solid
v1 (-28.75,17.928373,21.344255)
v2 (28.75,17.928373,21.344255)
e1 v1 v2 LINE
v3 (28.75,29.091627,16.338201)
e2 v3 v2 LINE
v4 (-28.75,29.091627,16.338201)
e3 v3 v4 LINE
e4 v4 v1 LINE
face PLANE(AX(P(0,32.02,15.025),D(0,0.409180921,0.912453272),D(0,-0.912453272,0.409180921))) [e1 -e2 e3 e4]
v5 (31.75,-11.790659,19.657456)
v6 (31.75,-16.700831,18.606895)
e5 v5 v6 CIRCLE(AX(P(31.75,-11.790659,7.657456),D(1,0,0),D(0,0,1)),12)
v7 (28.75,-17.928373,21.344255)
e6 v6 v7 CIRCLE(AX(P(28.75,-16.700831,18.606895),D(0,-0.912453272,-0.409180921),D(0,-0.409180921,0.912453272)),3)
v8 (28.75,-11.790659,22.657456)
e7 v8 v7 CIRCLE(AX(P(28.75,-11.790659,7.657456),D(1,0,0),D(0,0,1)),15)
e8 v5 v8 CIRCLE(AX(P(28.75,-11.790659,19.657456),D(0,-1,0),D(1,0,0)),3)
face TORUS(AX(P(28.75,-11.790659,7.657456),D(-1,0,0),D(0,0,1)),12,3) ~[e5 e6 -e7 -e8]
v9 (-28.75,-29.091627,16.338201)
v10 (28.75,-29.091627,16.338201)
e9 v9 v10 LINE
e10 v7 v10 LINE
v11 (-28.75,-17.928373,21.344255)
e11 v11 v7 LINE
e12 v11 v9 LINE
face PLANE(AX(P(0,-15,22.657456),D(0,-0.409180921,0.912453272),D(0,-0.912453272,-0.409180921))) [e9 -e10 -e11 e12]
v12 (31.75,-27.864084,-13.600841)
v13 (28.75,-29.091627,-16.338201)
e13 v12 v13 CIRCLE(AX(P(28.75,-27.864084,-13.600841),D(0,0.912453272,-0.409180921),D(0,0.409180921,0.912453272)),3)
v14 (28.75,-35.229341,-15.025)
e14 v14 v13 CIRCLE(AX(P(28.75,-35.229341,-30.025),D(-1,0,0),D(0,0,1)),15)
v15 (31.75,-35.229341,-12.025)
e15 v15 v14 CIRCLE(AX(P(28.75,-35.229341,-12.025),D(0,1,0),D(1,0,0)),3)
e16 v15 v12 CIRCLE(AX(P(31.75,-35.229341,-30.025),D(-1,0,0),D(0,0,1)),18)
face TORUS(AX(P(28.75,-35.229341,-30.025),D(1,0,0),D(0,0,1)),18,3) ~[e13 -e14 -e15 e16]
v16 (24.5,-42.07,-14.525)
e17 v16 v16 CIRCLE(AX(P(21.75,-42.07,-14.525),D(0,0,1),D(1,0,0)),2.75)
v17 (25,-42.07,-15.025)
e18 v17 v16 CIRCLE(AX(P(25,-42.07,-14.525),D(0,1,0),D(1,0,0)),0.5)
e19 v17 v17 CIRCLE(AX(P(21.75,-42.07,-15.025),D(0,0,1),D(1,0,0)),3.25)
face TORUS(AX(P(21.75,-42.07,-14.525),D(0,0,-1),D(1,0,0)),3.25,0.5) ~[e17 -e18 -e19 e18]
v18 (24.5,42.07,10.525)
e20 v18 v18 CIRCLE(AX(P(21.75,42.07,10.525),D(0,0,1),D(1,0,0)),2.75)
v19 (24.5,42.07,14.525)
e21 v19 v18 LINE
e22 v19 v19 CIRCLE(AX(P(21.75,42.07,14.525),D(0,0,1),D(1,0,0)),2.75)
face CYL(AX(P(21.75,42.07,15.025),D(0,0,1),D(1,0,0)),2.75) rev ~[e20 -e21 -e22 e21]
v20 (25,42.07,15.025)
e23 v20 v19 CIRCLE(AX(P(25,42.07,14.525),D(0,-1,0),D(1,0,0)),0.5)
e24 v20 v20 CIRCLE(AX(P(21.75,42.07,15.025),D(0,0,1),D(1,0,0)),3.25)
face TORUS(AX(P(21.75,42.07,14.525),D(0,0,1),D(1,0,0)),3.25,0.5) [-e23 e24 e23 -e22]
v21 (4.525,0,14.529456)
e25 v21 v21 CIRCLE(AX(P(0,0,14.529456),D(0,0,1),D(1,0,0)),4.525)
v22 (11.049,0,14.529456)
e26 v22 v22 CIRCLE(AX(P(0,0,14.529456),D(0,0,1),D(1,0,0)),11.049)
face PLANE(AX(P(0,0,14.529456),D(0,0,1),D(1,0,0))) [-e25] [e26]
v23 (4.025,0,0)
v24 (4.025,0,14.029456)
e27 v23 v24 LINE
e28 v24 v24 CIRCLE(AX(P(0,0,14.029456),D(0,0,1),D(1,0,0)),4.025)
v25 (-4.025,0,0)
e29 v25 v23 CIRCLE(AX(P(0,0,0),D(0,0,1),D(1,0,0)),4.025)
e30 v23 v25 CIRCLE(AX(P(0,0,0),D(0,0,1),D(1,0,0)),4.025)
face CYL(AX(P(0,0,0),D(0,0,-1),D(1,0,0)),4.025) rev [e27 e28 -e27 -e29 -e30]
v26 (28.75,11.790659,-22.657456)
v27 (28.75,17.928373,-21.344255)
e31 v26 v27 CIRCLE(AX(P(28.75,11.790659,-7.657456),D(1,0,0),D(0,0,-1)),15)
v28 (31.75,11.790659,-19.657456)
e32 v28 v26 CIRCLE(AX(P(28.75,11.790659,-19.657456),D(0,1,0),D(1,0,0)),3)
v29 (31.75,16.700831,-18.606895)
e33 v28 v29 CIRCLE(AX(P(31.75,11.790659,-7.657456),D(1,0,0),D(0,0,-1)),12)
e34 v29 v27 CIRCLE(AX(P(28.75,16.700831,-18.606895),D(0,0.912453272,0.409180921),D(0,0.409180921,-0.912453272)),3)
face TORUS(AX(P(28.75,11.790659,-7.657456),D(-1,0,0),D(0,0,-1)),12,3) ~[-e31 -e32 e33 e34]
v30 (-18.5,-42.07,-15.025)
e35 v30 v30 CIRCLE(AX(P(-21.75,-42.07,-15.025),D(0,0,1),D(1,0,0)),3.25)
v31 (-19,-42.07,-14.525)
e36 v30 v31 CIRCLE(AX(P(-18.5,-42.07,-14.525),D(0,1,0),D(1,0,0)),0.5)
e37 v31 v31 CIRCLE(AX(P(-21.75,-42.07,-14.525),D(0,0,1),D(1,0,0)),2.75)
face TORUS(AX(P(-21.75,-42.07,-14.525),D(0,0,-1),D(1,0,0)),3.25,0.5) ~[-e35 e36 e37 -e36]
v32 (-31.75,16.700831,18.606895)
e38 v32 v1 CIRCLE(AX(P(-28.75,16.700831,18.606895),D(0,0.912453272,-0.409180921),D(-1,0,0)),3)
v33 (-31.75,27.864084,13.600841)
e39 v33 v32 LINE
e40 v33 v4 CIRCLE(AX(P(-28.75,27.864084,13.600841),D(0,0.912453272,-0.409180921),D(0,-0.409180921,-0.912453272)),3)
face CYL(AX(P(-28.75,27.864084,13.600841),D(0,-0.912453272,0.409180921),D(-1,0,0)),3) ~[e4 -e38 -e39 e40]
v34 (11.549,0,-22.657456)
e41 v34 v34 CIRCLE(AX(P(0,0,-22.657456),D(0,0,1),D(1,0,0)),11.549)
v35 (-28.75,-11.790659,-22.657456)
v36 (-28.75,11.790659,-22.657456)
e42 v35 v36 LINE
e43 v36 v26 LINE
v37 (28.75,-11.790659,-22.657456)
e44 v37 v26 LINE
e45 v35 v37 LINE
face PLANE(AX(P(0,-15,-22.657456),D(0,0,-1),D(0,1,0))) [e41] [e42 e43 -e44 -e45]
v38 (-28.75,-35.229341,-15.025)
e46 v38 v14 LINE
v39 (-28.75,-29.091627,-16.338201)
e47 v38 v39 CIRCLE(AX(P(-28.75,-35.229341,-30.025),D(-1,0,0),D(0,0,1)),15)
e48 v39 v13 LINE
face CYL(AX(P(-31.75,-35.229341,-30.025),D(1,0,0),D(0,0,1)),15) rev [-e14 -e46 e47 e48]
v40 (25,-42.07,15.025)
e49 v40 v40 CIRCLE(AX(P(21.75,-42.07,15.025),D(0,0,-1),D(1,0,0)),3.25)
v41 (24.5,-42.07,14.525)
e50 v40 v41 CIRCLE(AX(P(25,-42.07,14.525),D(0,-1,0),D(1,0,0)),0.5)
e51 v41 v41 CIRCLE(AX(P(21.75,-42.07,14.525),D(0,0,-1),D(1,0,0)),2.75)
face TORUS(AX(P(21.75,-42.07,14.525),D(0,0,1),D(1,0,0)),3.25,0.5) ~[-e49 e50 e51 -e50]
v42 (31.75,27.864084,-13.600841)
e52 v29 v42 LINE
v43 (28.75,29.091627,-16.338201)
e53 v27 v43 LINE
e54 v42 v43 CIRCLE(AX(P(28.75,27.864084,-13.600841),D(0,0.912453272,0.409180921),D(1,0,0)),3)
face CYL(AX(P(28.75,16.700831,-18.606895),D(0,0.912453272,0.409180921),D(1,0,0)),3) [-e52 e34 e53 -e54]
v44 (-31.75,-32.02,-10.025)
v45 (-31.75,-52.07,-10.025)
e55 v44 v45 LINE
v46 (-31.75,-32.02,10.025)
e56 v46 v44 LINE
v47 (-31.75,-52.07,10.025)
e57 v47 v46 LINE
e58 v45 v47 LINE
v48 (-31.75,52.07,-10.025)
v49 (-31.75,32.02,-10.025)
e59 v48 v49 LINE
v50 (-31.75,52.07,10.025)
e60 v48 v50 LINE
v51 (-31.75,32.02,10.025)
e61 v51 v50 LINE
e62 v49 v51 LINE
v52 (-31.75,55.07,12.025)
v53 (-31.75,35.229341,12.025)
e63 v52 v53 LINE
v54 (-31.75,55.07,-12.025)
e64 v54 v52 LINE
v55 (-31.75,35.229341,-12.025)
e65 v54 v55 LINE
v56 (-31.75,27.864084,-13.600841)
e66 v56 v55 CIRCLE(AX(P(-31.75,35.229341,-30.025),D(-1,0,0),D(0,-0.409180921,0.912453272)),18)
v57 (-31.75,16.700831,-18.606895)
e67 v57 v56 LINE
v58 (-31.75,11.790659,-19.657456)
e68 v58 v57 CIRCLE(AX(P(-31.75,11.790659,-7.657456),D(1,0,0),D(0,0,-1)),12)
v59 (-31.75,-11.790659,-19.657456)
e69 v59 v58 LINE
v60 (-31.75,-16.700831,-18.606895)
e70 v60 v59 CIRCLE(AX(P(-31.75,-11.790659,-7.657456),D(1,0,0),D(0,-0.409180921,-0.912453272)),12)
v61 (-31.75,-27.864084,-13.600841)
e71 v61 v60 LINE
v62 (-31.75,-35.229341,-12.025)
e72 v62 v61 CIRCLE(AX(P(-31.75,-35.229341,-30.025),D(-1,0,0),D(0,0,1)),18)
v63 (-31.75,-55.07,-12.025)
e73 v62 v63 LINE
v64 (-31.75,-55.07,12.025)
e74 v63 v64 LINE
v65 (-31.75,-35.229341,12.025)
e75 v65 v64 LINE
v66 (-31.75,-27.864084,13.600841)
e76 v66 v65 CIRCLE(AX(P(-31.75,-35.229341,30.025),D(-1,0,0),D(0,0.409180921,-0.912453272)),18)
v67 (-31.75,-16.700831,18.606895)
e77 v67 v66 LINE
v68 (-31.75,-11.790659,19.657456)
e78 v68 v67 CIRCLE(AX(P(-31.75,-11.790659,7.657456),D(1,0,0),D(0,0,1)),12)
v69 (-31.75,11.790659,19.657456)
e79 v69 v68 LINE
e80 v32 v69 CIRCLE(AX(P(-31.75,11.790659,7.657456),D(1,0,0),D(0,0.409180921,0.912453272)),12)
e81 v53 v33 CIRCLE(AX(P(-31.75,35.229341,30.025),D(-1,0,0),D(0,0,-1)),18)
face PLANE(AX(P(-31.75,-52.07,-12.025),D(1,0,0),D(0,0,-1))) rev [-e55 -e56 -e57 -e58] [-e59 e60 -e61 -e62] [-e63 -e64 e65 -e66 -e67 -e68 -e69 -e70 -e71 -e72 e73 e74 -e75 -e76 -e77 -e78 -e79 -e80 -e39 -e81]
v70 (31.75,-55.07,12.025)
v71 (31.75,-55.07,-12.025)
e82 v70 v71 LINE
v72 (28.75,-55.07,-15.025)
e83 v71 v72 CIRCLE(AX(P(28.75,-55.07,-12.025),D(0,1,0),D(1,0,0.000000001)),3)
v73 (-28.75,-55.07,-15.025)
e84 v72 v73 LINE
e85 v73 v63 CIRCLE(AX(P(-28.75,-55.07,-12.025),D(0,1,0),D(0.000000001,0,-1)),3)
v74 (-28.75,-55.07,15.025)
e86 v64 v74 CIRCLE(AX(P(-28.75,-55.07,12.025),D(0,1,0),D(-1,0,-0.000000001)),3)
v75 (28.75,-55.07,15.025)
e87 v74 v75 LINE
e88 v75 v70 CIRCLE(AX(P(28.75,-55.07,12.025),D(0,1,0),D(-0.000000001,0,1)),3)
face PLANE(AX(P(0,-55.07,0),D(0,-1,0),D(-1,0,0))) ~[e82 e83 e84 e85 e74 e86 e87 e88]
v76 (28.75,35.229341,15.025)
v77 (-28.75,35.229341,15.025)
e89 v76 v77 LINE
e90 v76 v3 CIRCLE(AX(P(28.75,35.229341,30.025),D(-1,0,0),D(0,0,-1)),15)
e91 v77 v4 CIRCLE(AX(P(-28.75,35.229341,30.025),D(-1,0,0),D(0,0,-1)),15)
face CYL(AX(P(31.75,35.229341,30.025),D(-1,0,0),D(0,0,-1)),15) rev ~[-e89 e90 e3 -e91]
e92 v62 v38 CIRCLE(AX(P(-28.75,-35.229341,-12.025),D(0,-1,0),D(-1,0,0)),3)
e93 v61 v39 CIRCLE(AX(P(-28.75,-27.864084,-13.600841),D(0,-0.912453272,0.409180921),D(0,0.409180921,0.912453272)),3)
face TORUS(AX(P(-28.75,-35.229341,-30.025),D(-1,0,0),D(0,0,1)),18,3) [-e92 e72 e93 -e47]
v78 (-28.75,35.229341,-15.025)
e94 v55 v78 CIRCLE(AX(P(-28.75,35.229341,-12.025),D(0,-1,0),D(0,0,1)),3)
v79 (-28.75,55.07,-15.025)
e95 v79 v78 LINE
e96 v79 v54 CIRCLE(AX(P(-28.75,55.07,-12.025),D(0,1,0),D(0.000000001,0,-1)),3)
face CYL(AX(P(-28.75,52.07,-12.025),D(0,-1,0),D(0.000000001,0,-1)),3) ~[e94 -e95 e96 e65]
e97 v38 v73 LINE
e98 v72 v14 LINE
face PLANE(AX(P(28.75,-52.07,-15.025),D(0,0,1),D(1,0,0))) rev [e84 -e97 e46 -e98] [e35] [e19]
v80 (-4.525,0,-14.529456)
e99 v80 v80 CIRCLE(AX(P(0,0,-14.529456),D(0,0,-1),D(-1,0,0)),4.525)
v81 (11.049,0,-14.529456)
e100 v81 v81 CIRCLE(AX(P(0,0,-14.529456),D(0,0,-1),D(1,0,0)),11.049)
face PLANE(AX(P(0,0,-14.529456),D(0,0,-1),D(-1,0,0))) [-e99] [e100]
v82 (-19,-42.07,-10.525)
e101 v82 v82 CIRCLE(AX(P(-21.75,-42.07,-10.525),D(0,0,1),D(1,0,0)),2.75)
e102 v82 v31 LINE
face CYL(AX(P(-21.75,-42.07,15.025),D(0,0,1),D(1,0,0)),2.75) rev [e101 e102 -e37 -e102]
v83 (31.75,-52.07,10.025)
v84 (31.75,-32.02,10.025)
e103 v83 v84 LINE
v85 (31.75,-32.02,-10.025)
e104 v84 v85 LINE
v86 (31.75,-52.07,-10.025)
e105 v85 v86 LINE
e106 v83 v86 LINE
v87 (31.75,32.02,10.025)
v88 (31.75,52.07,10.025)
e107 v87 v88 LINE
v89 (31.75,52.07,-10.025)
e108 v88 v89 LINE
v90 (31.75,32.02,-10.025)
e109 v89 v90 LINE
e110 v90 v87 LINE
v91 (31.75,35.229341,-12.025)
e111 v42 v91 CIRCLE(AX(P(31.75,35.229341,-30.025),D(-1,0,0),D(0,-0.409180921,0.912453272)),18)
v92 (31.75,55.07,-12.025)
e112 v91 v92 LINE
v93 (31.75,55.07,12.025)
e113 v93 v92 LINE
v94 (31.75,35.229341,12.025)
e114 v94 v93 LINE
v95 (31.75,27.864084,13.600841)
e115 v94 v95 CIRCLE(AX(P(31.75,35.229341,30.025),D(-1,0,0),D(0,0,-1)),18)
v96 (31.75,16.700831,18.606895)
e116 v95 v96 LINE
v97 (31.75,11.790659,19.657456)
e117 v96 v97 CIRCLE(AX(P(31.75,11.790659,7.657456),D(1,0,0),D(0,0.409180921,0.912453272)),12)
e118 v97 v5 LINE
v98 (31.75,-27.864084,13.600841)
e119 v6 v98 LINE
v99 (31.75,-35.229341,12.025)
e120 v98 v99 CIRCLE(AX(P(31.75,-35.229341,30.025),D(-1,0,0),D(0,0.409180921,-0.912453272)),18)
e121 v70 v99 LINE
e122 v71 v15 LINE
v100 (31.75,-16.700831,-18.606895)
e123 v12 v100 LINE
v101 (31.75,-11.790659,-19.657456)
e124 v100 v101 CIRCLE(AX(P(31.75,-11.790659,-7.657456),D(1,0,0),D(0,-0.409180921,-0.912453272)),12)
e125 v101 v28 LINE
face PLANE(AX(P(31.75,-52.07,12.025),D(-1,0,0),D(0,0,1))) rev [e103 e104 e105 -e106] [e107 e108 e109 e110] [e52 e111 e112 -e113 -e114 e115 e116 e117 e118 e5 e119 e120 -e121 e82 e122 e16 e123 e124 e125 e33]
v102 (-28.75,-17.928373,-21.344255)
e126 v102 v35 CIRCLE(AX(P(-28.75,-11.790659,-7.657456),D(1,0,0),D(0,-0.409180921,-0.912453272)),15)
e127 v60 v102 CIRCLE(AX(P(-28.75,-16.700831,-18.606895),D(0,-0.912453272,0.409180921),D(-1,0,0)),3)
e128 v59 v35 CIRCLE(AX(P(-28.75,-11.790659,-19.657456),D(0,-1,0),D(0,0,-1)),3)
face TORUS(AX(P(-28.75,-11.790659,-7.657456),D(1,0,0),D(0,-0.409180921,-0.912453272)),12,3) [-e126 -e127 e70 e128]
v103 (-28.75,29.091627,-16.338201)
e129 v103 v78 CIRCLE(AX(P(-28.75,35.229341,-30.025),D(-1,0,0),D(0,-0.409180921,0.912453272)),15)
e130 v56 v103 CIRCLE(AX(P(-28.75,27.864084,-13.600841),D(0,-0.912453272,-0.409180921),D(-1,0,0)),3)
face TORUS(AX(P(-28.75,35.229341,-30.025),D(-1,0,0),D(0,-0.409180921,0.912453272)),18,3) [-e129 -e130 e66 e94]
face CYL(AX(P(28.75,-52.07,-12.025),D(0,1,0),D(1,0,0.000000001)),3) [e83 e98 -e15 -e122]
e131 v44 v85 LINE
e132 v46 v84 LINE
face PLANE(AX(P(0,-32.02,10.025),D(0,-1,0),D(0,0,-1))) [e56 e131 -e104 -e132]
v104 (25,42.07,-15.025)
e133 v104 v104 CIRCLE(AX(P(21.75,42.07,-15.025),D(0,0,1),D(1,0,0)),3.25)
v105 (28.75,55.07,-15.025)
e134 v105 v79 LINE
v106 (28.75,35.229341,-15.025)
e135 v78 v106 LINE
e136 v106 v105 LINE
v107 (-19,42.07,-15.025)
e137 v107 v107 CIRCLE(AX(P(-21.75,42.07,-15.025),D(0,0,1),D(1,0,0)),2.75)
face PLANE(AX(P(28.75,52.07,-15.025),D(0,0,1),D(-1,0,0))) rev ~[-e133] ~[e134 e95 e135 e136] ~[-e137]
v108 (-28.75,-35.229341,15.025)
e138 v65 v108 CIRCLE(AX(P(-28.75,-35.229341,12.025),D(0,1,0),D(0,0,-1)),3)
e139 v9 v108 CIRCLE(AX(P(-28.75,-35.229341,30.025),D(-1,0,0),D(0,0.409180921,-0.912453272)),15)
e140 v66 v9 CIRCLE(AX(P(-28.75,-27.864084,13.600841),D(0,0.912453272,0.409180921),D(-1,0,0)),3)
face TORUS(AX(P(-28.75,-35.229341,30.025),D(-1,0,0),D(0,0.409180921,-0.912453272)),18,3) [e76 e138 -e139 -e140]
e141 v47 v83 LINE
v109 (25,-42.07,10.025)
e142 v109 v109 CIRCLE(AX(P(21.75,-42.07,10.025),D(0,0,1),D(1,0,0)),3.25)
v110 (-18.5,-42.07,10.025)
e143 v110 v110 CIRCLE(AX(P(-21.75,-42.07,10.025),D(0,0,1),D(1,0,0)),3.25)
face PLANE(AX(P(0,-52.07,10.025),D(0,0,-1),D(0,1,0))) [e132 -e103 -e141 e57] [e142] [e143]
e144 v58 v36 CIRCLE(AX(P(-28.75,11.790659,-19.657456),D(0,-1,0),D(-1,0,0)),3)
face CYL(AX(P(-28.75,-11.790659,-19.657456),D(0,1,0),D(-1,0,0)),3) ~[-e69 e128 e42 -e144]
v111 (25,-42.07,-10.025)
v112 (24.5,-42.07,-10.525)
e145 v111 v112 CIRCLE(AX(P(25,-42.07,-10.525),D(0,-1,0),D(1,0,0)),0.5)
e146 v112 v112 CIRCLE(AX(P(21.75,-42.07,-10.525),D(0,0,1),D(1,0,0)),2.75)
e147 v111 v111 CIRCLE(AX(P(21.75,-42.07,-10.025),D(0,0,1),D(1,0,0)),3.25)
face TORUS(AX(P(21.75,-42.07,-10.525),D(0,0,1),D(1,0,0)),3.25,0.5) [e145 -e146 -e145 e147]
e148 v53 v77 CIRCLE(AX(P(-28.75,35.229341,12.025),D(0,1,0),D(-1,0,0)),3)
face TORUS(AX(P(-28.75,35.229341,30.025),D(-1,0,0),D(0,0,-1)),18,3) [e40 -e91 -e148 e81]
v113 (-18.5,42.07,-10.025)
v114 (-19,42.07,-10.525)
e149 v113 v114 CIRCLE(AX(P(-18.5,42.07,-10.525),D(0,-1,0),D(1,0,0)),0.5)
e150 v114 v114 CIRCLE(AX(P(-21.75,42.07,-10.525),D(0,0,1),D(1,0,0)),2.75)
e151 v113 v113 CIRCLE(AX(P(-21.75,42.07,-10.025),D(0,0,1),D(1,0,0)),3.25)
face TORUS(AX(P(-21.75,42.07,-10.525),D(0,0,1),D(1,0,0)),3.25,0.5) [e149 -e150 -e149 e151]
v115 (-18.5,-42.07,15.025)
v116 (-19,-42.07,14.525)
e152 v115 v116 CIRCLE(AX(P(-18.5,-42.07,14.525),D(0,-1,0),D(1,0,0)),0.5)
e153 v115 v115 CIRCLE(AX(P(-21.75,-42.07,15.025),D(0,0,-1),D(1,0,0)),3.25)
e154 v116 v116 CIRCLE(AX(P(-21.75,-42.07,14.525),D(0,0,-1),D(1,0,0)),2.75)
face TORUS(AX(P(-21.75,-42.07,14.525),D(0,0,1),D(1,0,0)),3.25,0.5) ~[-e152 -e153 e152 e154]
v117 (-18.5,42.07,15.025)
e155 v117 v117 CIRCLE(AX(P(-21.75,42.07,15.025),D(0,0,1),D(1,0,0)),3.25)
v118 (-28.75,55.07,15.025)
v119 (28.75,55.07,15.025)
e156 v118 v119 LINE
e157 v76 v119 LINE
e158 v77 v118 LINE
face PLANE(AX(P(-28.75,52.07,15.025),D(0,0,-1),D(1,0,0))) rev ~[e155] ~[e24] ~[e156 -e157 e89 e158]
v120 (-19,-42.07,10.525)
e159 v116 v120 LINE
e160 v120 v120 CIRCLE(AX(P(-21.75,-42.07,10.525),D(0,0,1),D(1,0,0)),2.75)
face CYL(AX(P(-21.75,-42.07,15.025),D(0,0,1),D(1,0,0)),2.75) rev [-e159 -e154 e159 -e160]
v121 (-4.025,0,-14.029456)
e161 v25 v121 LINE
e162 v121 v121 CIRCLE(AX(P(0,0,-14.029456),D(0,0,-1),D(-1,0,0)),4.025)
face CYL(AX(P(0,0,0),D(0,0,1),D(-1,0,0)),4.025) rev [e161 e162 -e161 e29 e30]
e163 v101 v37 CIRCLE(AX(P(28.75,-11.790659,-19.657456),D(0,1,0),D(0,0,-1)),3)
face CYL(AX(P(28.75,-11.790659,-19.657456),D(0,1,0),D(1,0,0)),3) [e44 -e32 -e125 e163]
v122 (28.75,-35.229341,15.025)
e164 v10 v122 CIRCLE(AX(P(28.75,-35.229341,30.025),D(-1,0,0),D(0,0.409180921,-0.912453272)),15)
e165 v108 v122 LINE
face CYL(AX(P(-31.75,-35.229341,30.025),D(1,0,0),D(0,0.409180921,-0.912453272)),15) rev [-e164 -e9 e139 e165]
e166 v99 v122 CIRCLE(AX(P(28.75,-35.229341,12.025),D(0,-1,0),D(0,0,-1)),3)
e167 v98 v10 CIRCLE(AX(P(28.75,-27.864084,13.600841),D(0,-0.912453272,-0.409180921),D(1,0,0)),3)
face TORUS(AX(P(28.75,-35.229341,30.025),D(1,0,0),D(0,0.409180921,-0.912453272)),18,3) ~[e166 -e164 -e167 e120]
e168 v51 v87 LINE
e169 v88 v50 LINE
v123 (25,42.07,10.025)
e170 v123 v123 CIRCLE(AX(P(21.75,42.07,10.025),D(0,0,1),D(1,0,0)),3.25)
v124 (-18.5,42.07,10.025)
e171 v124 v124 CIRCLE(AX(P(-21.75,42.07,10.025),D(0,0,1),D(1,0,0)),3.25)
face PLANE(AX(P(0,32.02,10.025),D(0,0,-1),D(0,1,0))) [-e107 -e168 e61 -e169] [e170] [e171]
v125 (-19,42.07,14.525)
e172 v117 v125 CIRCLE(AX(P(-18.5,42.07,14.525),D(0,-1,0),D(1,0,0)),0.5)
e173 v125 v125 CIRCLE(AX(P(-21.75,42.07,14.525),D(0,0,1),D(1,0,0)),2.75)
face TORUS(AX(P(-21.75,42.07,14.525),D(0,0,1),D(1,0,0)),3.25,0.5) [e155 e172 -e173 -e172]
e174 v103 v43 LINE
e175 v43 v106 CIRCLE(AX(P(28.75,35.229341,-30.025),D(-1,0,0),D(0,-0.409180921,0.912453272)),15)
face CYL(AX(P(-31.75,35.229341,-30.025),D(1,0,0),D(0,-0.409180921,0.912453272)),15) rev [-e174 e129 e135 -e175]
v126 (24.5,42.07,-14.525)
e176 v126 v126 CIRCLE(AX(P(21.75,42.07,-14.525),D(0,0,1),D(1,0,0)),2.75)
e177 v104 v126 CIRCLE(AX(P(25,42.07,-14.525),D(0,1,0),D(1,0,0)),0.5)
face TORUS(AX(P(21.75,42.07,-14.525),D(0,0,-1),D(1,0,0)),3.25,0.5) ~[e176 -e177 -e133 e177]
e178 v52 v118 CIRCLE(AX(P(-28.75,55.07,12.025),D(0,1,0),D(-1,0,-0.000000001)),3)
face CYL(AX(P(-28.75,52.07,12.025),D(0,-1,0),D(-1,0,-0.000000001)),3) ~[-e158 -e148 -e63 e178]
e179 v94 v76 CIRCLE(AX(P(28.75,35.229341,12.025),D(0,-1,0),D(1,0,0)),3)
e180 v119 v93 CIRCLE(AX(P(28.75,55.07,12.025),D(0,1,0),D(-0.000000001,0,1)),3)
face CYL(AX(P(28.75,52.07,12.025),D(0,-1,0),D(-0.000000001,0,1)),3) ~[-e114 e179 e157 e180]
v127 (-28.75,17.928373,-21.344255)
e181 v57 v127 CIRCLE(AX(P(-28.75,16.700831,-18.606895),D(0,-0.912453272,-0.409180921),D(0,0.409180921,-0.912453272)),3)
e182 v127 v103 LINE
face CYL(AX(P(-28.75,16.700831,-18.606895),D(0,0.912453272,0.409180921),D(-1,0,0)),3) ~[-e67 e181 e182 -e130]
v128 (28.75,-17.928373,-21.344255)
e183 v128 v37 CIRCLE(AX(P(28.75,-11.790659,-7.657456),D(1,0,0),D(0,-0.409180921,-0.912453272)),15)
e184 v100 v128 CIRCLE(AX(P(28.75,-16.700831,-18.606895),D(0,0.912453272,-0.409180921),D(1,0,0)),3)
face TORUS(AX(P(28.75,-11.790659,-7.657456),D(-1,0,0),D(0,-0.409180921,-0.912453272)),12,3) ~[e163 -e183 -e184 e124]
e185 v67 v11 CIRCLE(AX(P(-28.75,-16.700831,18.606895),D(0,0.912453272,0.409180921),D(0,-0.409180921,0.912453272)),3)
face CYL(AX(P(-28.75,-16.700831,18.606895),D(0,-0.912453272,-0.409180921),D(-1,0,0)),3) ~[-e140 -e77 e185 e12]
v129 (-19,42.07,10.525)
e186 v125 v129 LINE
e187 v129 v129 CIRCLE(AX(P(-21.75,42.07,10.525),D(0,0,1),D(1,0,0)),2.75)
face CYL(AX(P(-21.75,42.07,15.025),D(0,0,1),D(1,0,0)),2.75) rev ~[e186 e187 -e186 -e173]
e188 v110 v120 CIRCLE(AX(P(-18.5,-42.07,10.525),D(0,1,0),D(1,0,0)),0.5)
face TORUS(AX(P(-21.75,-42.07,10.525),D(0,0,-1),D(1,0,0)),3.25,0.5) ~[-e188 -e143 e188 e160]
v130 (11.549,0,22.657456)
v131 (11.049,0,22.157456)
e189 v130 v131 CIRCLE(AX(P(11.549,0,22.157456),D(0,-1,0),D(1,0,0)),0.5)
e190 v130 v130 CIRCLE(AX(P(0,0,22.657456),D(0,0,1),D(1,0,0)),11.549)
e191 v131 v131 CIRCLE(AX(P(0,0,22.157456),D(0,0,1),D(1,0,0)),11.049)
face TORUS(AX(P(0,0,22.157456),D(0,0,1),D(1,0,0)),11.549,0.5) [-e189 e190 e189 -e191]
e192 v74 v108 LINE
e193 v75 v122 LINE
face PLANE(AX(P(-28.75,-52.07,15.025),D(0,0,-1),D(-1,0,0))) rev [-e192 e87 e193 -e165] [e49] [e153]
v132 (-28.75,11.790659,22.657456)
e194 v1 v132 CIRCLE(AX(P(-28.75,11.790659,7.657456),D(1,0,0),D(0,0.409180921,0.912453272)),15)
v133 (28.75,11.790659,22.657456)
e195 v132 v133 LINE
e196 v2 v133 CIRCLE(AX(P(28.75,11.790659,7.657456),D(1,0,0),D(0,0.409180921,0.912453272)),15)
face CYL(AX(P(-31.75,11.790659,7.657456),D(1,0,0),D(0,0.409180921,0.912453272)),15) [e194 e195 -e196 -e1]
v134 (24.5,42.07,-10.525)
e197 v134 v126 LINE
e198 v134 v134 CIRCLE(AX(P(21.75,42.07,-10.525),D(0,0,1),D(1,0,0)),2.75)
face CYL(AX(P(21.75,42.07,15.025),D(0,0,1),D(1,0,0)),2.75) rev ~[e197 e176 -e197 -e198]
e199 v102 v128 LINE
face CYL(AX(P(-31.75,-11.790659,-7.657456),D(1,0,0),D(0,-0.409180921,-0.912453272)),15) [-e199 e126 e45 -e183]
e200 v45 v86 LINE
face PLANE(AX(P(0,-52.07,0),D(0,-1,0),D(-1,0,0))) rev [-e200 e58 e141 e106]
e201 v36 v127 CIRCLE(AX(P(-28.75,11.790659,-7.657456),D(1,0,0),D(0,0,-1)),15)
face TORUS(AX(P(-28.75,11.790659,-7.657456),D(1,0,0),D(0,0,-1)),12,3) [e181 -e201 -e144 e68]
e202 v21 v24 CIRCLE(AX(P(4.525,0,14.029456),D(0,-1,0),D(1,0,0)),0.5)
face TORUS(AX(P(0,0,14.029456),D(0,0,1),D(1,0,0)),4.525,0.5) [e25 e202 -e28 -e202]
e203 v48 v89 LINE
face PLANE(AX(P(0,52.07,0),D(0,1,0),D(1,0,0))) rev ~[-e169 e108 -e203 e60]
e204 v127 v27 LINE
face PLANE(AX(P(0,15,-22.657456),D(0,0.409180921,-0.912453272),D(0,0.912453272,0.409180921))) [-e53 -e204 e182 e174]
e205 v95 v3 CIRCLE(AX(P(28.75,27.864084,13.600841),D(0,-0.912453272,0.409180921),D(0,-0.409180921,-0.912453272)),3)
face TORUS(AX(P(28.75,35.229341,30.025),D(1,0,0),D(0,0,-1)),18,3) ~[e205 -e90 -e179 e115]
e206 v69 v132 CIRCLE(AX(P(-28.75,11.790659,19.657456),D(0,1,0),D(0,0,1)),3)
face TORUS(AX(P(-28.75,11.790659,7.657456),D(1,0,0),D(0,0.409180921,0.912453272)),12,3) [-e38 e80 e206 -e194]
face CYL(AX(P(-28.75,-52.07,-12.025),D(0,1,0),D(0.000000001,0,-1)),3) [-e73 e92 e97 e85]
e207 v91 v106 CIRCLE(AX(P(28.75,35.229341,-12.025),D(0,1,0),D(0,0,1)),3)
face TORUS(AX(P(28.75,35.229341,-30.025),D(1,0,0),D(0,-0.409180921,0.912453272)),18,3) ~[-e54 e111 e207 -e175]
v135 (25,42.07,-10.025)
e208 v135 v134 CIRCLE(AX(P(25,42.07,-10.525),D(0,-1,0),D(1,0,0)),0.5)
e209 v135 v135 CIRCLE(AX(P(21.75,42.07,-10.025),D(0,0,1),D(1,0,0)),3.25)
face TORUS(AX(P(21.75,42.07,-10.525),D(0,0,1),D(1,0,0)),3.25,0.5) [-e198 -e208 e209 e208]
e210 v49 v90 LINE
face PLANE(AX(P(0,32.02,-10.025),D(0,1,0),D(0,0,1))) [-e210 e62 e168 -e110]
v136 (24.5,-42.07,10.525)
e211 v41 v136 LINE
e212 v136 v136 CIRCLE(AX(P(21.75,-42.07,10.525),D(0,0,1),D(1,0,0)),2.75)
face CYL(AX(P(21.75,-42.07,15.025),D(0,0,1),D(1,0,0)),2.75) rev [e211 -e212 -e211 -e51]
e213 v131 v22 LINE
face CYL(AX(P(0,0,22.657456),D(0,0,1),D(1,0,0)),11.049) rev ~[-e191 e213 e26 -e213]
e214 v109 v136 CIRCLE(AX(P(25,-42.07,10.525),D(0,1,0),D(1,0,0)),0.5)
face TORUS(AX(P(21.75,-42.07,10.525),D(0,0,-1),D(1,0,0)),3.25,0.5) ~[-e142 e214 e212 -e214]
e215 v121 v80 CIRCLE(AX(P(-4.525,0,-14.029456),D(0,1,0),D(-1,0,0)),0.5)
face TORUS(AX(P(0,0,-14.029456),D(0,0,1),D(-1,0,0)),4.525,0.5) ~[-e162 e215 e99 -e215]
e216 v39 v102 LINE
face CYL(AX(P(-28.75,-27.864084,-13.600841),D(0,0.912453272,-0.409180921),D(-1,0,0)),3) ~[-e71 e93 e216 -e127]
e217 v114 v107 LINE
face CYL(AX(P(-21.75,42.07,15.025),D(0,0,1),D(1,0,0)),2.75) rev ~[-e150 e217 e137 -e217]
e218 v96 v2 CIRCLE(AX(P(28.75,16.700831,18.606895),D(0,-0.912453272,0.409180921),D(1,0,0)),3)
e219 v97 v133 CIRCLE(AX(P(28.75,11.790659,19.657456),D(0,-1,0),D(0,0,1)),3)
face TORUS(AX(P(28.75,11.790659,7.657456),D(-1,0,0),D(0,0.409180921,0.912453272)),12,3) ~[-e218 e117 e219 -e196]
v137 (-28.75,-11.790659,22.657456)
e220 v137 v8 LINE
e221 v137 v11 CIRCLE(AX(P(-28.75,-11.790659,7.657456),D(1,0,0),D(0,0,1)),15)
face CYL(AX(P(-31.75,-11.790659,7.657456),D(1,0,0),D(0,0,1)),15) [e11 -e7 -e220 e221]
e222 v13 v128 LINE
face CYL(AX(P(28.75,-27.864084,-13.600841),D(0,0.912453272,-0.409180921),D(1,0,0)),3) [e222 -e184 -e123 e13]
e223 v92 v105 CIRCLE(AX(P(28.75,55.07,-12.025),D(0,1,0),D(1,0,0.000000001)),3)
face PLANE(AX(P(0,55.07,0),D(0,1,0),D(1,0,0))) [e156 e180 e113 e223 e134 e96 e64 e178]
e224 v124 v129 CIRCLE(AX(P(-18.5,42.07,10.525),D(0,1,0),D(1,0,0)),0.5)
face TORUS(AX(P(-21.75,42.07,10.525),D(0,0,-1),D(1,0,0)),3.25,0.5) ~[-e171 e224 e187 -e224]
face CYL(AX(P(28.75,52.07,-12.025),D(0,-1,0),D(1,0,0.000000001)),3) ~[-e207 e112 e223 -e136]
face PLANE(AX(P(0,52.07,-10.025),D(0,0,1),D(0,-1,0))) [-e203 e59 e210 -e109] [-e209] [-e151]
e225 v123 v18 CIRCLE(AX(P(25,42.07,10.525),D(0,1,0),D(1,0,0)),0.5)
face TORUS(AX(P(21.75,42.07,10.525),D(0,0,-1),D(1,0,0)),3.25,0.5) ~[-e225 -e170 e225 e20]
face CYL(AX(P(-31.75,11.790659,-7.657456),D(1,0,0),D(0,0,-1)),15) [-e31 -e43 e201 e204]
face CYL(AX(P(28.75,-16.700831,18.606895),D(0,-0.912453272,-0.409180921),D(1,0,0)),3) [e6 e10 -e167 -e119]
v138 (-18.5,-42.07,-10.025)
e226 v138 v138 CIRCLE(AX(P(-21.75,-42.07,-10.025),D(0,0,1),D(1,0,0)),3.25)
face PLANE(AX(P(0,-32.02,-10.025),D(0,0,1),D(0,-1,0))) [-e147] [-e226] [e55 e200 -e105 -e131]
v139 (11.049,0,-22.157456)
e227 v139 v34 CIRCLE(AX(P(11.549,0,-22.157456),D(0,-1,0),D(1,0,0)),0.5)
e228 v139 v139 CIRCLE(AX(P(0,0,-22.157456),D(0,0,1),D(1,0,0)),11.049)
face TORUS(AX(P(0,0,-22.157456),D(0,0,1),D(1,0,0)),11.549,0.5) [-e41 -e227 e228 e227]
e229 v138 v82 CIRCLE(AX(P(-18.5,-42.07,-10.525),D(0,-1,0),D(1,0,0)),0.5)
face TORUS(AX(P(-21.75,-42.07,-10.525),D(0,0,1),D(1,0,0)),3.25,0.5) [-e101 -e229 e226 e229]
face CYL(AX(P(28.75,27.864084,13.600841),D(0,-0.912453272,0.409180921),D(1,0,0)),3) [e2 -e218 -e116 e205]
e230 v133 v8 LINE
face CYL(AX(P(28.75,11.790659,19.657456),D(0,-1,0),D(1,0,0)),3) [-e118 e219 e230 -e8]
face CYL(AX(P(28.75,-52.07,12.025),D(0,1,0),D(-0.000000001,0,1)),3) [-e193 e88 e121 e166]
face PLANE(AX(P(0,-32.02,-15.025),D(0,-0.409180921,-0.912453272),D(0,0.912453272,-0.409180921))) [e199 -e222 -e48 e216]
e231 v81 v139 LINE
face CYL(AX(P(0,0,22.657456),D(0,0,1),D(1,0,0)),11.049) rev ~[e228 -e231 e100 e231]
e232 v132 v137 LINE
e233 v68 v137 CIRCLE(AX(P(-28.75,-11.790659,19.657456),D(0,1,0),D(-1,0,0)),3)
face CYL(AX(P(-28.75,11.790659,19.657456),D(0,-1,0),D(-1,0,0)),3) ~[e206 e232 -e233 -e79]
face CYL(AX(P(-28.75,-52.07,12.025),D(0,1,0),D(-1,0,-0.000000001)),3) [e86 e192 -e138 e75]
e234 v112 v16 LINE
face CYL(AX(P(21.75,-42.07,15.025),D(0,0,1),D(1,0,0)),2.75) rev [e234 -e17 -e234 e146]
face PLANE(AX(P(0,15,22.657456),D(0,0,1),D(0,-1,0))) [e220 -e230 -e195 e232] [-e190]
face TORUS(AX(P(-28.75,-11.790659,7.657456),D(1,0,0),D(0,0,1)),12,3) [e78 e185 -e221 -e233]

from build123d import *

# Parameters (mm, degrees)
BOSS_EXTRUDE1_DEPTH = 31.75
SKETCH2_R           = 2.75
CUT_EXTRUDE1_DEPTH  = 38.682455813
SKETCH3_R           = 11.049
CUT_EXTRUDE2_DEPTH  = 46.314911625
FILLET1_R           = 0.5
FILLET2_R           = 15
FILLET3_R           = 3
SKETCH4_R           = 11.049
SKETCH4_R_2         = 4.025
BOSS_EXTRUDE2_DEPTH = 14.529456
SKETCH5_R           = 11.049
SKETCH5_R_2         = 4.025
BOSS_EXTRUDE3_DEPTH = 14.529456
FILLET5_R           = 0.5
BOSS_EXTRUDE4_DEPTH = 3


with BuildPart() as part:
    # Sketch1 → Boss-Extrude1 (new body, symmetric)
    with BuildSketch(Plane(origin=(0, 0, 0), x_dir=(0, 0, -1), z_dir=(1, 0, 0))):
        Polygon((-15.025, 32.02), (-22.657455813, 15), (-22.657455813, -15), (-15.025, -32.02), (-15.025, -52.07), (-10.025, -52.07), (-10.025, -32.02), (10.025, -32.02), (10.025, -52.07), (15.025, -52.07), (15.025, -32.02), (22.657455813, -15), (22.657455813, 15), (15.025, 32.02), (15.025, 52.07), (10.025, 52.07), (10.025, 32.02), (-10.025, 32.02), (-10.025, 52.07), (-15.025, 52.07), align=None)
    extrude(amount=BOSS_EXTRUDE1_DEPTH, both=True)

    # Sketch2 → Cut-Extrude1 (cut, through all)
    with BuildSketch(Plane.XY.offset(15.025)):
        with Locations((-21.75, 42.07)):
            Circle(SKETCH2_R)
        with Locations((21.75, 42.07)):
            Circle(SKETCH2_R)
    cut_extrude1 = extrude(amount=-CUT_EXTRUDE1_DEPTH, mode=Mode.SUBTRACT)

    # Mirror1: Cut-Extrude1 across plane
    add(cut_extrude1.mirror(Plane.ZX), mode=Mode.SUBTRACT)

    # Sketch3 → Cut-Extrude2 (cut, through all)
    with BuildSketch(Plane.XY.offset(22.657455813)):
        Circle(SKETCH3_R)
    extrude(amount=-CUT_EXTRUDE2_DEPTH, mode=Mode.SUBTRACT)

    # Fillet1
    fillet1_edges = [part.edges().sort_by_distance(p)[0] for p in [
        (-24.5, 42.07, -10.025),
        (-24.5, 42.07, 10.025),
        (-24.5, 42.07, 15.025),
        (19, 42.07, -10.025),
        (19, 42.07, -15.025),
        (19, 42.07, 10.025),
        (19, 42.07, 15.025),
        (-24.5, -42.07, 15.025),
        (-24.5, -42.07, 10.025),
        (-24.5, -42.07, -10.025),
        (-24.5, -42.07, -15.025),
        (19, -42.07, 15.025),
        (19, -42.07, 10.025),
        (19, -42.07, -10.025),
        (19, -42.07, -15.025),
    ]]
    fillet(fillet1_edges, radius=FILLET1_R)

    # Fillet2
    fillet2_edges = [part.edges().sort_by_distance(p)[0] for p in [
        (0, 32.02, -15.025),
        (0, 15, -22.657455813),
        (0, -15, -22.657455813),
        (0, -32.02, -15.025),
        (0, -32.02, 15.025),
        (0, -15, 22.657455813),
        (0, 15, 22.657455813),
        (0, 32.02, 15.025),
    ]]
    fillet(fillet2_edges, radius=FILLET2_R)

    # Fillet3
    fillet3_edges = [part.edges().sort_by_distance(p)[0] for p in [
        (-31.75, 43.649670271, -15.025),
        (31.75, 43.649670271, -15.025),
        (-31.75, 23.51, -18.841227906),
        (31.75, 23.51, -18.841227906),
        (-31.75, 0, -22.657455813),
        (-31.75, -23.51, -18.841227906),
        (-31.75, -43.649670271, 15.025),
        (-31.75, -23.51, 18.841227906),
        (-31.75, 0, 22.657455813),
        (-31.75, 23.51, 18.841227906),
        (-31.75, 14.928972205, 22.32548203),
        (-31.75, -14.928972205, 22.32548203),
        (-31.75, -14.928972205, -22.32548203),
        (-31.75, 14.928972205, -22.32548203),
        (31.75, 0, -22.657455813),
        (31.75, 23.51, 18.841227906),
        (31.75, 0, 22.657455813),
        (31.75, -23.51, 18.841227906),
        (31.75, -43.649670271, 15.025),
        (31.75, -23.51, -18.841227906),
        (31.75, 14.928972205, 22.32548203),
        (31.75, -14.928972205, 22.32548203),
        (31.75, -14.928972205, -22.32548203),
        (31.75, 14.928972205, -22.32548203),
        (-31.75, 32.091027795, -15.356973783),
        (31.75, 32.091027795, -15.356973783),
        (-31.75, -32.091027795, -15.356973783),
        (31.75, -32.091027795, -15.356973783),
        (-31.75, -32.091027795, 15.356973783),
        (31.75, -32.091027795, 15.356973783),
        (-31.75, 32.091027795, 15.356973783),
        (31.75, 32.091027795, 15.356973783),
        (-31.75, -43.649670271, -15.025),
        (-31.75, 43.649670271, 15.025),
        (31.75, -43.649670271, -15.025),
        (31.75, 43.649670271, 15.025),
    ]]
    fillet(fillet3_edges, radius=FILLET3_R)

    # Sketch4 → Boss-Extrude2 (add)
    with BuildSketch(Plane.XY):
        Circle(SKETCH4_R)
        Circle(SKETCH4_R_2, mode=Mode.SUBTRACT)
    extrude(amount=BOSS_EXTRUDE2_DEPTH)

    # Sketch5 → Boss-Extrude3 (add)
    with BuildSketch(Plane(origin=(0, 0, 0), x_dir=(-1, 0, 0), z_dir=(0, 0, -1))):
        Circle(SKETCH5_R)
        Circle(SKETCH5_R_2, mode=Mode.SUBTRACT)
    extrude(amount=BOSS_EXTRUDE3_DEPTH)

    # Fillet5
    fillet5_edges = [part.edges().sort_by_distance(p)[0] for p in [
        (-4.025, 0, 14.529456),
        (4.025, 0, -14.529456),
        (-11.049, 0, -22.657455813),
        (-11.049, 0, 22.657455813),
    ]]
    fillet(fillet5_edges, radius=FILLET5_R)

    # Sketch6 → Boss-Extrude4 (add)
    with BuildSketch(Plane(origin=(0, 52.07, 0), x_dir=(1, 0, 0), z_dir=(0, 1, 0))):
        with BuildLine():
            Line((-31.75, 10.025), (-31.75, -10.025))
            Line((-31.75, -10.025), (-31.75, -12.025))
            ThreePointArc((-31.75, -12.025), (-30.871320344, -14.146320344), (-28.75, -15.025))
            Line((-28.75, -15.025), (28.75, -15.025))
            ThreePointArc((28.75, -15.025), (30.871320344, -14.146320344), (31.75, -12.025))
            Line((31.75, -12.025), (31.75, -10.025))
            Line((31.75, -10.025), (31.75, 10.025))
            Line((31.75, 10.025), (31.75, 12.025))
            ThreePointArc((31.75, 12.025), (30.871320344, 14.146320344), (28.75, 15.025))
            Line((28.75, 15.025), (-28.75, 15.025))
            ThreePointArc((-28.75, 15.025), (-30.871320344, 14.146320344), (-31.75, 12.025))
            Line((-31.75, 12.025), (-31.75, 10.025))
        make_face()
    boss_extrude4 = extrude(amount=BOSS_EXTRUDE4_DEPTH)

    # Mirror2: Boss-Extrude4 across plane
    add(boss_extrude4.mirror(Plane.ZX))


solid = part.part
